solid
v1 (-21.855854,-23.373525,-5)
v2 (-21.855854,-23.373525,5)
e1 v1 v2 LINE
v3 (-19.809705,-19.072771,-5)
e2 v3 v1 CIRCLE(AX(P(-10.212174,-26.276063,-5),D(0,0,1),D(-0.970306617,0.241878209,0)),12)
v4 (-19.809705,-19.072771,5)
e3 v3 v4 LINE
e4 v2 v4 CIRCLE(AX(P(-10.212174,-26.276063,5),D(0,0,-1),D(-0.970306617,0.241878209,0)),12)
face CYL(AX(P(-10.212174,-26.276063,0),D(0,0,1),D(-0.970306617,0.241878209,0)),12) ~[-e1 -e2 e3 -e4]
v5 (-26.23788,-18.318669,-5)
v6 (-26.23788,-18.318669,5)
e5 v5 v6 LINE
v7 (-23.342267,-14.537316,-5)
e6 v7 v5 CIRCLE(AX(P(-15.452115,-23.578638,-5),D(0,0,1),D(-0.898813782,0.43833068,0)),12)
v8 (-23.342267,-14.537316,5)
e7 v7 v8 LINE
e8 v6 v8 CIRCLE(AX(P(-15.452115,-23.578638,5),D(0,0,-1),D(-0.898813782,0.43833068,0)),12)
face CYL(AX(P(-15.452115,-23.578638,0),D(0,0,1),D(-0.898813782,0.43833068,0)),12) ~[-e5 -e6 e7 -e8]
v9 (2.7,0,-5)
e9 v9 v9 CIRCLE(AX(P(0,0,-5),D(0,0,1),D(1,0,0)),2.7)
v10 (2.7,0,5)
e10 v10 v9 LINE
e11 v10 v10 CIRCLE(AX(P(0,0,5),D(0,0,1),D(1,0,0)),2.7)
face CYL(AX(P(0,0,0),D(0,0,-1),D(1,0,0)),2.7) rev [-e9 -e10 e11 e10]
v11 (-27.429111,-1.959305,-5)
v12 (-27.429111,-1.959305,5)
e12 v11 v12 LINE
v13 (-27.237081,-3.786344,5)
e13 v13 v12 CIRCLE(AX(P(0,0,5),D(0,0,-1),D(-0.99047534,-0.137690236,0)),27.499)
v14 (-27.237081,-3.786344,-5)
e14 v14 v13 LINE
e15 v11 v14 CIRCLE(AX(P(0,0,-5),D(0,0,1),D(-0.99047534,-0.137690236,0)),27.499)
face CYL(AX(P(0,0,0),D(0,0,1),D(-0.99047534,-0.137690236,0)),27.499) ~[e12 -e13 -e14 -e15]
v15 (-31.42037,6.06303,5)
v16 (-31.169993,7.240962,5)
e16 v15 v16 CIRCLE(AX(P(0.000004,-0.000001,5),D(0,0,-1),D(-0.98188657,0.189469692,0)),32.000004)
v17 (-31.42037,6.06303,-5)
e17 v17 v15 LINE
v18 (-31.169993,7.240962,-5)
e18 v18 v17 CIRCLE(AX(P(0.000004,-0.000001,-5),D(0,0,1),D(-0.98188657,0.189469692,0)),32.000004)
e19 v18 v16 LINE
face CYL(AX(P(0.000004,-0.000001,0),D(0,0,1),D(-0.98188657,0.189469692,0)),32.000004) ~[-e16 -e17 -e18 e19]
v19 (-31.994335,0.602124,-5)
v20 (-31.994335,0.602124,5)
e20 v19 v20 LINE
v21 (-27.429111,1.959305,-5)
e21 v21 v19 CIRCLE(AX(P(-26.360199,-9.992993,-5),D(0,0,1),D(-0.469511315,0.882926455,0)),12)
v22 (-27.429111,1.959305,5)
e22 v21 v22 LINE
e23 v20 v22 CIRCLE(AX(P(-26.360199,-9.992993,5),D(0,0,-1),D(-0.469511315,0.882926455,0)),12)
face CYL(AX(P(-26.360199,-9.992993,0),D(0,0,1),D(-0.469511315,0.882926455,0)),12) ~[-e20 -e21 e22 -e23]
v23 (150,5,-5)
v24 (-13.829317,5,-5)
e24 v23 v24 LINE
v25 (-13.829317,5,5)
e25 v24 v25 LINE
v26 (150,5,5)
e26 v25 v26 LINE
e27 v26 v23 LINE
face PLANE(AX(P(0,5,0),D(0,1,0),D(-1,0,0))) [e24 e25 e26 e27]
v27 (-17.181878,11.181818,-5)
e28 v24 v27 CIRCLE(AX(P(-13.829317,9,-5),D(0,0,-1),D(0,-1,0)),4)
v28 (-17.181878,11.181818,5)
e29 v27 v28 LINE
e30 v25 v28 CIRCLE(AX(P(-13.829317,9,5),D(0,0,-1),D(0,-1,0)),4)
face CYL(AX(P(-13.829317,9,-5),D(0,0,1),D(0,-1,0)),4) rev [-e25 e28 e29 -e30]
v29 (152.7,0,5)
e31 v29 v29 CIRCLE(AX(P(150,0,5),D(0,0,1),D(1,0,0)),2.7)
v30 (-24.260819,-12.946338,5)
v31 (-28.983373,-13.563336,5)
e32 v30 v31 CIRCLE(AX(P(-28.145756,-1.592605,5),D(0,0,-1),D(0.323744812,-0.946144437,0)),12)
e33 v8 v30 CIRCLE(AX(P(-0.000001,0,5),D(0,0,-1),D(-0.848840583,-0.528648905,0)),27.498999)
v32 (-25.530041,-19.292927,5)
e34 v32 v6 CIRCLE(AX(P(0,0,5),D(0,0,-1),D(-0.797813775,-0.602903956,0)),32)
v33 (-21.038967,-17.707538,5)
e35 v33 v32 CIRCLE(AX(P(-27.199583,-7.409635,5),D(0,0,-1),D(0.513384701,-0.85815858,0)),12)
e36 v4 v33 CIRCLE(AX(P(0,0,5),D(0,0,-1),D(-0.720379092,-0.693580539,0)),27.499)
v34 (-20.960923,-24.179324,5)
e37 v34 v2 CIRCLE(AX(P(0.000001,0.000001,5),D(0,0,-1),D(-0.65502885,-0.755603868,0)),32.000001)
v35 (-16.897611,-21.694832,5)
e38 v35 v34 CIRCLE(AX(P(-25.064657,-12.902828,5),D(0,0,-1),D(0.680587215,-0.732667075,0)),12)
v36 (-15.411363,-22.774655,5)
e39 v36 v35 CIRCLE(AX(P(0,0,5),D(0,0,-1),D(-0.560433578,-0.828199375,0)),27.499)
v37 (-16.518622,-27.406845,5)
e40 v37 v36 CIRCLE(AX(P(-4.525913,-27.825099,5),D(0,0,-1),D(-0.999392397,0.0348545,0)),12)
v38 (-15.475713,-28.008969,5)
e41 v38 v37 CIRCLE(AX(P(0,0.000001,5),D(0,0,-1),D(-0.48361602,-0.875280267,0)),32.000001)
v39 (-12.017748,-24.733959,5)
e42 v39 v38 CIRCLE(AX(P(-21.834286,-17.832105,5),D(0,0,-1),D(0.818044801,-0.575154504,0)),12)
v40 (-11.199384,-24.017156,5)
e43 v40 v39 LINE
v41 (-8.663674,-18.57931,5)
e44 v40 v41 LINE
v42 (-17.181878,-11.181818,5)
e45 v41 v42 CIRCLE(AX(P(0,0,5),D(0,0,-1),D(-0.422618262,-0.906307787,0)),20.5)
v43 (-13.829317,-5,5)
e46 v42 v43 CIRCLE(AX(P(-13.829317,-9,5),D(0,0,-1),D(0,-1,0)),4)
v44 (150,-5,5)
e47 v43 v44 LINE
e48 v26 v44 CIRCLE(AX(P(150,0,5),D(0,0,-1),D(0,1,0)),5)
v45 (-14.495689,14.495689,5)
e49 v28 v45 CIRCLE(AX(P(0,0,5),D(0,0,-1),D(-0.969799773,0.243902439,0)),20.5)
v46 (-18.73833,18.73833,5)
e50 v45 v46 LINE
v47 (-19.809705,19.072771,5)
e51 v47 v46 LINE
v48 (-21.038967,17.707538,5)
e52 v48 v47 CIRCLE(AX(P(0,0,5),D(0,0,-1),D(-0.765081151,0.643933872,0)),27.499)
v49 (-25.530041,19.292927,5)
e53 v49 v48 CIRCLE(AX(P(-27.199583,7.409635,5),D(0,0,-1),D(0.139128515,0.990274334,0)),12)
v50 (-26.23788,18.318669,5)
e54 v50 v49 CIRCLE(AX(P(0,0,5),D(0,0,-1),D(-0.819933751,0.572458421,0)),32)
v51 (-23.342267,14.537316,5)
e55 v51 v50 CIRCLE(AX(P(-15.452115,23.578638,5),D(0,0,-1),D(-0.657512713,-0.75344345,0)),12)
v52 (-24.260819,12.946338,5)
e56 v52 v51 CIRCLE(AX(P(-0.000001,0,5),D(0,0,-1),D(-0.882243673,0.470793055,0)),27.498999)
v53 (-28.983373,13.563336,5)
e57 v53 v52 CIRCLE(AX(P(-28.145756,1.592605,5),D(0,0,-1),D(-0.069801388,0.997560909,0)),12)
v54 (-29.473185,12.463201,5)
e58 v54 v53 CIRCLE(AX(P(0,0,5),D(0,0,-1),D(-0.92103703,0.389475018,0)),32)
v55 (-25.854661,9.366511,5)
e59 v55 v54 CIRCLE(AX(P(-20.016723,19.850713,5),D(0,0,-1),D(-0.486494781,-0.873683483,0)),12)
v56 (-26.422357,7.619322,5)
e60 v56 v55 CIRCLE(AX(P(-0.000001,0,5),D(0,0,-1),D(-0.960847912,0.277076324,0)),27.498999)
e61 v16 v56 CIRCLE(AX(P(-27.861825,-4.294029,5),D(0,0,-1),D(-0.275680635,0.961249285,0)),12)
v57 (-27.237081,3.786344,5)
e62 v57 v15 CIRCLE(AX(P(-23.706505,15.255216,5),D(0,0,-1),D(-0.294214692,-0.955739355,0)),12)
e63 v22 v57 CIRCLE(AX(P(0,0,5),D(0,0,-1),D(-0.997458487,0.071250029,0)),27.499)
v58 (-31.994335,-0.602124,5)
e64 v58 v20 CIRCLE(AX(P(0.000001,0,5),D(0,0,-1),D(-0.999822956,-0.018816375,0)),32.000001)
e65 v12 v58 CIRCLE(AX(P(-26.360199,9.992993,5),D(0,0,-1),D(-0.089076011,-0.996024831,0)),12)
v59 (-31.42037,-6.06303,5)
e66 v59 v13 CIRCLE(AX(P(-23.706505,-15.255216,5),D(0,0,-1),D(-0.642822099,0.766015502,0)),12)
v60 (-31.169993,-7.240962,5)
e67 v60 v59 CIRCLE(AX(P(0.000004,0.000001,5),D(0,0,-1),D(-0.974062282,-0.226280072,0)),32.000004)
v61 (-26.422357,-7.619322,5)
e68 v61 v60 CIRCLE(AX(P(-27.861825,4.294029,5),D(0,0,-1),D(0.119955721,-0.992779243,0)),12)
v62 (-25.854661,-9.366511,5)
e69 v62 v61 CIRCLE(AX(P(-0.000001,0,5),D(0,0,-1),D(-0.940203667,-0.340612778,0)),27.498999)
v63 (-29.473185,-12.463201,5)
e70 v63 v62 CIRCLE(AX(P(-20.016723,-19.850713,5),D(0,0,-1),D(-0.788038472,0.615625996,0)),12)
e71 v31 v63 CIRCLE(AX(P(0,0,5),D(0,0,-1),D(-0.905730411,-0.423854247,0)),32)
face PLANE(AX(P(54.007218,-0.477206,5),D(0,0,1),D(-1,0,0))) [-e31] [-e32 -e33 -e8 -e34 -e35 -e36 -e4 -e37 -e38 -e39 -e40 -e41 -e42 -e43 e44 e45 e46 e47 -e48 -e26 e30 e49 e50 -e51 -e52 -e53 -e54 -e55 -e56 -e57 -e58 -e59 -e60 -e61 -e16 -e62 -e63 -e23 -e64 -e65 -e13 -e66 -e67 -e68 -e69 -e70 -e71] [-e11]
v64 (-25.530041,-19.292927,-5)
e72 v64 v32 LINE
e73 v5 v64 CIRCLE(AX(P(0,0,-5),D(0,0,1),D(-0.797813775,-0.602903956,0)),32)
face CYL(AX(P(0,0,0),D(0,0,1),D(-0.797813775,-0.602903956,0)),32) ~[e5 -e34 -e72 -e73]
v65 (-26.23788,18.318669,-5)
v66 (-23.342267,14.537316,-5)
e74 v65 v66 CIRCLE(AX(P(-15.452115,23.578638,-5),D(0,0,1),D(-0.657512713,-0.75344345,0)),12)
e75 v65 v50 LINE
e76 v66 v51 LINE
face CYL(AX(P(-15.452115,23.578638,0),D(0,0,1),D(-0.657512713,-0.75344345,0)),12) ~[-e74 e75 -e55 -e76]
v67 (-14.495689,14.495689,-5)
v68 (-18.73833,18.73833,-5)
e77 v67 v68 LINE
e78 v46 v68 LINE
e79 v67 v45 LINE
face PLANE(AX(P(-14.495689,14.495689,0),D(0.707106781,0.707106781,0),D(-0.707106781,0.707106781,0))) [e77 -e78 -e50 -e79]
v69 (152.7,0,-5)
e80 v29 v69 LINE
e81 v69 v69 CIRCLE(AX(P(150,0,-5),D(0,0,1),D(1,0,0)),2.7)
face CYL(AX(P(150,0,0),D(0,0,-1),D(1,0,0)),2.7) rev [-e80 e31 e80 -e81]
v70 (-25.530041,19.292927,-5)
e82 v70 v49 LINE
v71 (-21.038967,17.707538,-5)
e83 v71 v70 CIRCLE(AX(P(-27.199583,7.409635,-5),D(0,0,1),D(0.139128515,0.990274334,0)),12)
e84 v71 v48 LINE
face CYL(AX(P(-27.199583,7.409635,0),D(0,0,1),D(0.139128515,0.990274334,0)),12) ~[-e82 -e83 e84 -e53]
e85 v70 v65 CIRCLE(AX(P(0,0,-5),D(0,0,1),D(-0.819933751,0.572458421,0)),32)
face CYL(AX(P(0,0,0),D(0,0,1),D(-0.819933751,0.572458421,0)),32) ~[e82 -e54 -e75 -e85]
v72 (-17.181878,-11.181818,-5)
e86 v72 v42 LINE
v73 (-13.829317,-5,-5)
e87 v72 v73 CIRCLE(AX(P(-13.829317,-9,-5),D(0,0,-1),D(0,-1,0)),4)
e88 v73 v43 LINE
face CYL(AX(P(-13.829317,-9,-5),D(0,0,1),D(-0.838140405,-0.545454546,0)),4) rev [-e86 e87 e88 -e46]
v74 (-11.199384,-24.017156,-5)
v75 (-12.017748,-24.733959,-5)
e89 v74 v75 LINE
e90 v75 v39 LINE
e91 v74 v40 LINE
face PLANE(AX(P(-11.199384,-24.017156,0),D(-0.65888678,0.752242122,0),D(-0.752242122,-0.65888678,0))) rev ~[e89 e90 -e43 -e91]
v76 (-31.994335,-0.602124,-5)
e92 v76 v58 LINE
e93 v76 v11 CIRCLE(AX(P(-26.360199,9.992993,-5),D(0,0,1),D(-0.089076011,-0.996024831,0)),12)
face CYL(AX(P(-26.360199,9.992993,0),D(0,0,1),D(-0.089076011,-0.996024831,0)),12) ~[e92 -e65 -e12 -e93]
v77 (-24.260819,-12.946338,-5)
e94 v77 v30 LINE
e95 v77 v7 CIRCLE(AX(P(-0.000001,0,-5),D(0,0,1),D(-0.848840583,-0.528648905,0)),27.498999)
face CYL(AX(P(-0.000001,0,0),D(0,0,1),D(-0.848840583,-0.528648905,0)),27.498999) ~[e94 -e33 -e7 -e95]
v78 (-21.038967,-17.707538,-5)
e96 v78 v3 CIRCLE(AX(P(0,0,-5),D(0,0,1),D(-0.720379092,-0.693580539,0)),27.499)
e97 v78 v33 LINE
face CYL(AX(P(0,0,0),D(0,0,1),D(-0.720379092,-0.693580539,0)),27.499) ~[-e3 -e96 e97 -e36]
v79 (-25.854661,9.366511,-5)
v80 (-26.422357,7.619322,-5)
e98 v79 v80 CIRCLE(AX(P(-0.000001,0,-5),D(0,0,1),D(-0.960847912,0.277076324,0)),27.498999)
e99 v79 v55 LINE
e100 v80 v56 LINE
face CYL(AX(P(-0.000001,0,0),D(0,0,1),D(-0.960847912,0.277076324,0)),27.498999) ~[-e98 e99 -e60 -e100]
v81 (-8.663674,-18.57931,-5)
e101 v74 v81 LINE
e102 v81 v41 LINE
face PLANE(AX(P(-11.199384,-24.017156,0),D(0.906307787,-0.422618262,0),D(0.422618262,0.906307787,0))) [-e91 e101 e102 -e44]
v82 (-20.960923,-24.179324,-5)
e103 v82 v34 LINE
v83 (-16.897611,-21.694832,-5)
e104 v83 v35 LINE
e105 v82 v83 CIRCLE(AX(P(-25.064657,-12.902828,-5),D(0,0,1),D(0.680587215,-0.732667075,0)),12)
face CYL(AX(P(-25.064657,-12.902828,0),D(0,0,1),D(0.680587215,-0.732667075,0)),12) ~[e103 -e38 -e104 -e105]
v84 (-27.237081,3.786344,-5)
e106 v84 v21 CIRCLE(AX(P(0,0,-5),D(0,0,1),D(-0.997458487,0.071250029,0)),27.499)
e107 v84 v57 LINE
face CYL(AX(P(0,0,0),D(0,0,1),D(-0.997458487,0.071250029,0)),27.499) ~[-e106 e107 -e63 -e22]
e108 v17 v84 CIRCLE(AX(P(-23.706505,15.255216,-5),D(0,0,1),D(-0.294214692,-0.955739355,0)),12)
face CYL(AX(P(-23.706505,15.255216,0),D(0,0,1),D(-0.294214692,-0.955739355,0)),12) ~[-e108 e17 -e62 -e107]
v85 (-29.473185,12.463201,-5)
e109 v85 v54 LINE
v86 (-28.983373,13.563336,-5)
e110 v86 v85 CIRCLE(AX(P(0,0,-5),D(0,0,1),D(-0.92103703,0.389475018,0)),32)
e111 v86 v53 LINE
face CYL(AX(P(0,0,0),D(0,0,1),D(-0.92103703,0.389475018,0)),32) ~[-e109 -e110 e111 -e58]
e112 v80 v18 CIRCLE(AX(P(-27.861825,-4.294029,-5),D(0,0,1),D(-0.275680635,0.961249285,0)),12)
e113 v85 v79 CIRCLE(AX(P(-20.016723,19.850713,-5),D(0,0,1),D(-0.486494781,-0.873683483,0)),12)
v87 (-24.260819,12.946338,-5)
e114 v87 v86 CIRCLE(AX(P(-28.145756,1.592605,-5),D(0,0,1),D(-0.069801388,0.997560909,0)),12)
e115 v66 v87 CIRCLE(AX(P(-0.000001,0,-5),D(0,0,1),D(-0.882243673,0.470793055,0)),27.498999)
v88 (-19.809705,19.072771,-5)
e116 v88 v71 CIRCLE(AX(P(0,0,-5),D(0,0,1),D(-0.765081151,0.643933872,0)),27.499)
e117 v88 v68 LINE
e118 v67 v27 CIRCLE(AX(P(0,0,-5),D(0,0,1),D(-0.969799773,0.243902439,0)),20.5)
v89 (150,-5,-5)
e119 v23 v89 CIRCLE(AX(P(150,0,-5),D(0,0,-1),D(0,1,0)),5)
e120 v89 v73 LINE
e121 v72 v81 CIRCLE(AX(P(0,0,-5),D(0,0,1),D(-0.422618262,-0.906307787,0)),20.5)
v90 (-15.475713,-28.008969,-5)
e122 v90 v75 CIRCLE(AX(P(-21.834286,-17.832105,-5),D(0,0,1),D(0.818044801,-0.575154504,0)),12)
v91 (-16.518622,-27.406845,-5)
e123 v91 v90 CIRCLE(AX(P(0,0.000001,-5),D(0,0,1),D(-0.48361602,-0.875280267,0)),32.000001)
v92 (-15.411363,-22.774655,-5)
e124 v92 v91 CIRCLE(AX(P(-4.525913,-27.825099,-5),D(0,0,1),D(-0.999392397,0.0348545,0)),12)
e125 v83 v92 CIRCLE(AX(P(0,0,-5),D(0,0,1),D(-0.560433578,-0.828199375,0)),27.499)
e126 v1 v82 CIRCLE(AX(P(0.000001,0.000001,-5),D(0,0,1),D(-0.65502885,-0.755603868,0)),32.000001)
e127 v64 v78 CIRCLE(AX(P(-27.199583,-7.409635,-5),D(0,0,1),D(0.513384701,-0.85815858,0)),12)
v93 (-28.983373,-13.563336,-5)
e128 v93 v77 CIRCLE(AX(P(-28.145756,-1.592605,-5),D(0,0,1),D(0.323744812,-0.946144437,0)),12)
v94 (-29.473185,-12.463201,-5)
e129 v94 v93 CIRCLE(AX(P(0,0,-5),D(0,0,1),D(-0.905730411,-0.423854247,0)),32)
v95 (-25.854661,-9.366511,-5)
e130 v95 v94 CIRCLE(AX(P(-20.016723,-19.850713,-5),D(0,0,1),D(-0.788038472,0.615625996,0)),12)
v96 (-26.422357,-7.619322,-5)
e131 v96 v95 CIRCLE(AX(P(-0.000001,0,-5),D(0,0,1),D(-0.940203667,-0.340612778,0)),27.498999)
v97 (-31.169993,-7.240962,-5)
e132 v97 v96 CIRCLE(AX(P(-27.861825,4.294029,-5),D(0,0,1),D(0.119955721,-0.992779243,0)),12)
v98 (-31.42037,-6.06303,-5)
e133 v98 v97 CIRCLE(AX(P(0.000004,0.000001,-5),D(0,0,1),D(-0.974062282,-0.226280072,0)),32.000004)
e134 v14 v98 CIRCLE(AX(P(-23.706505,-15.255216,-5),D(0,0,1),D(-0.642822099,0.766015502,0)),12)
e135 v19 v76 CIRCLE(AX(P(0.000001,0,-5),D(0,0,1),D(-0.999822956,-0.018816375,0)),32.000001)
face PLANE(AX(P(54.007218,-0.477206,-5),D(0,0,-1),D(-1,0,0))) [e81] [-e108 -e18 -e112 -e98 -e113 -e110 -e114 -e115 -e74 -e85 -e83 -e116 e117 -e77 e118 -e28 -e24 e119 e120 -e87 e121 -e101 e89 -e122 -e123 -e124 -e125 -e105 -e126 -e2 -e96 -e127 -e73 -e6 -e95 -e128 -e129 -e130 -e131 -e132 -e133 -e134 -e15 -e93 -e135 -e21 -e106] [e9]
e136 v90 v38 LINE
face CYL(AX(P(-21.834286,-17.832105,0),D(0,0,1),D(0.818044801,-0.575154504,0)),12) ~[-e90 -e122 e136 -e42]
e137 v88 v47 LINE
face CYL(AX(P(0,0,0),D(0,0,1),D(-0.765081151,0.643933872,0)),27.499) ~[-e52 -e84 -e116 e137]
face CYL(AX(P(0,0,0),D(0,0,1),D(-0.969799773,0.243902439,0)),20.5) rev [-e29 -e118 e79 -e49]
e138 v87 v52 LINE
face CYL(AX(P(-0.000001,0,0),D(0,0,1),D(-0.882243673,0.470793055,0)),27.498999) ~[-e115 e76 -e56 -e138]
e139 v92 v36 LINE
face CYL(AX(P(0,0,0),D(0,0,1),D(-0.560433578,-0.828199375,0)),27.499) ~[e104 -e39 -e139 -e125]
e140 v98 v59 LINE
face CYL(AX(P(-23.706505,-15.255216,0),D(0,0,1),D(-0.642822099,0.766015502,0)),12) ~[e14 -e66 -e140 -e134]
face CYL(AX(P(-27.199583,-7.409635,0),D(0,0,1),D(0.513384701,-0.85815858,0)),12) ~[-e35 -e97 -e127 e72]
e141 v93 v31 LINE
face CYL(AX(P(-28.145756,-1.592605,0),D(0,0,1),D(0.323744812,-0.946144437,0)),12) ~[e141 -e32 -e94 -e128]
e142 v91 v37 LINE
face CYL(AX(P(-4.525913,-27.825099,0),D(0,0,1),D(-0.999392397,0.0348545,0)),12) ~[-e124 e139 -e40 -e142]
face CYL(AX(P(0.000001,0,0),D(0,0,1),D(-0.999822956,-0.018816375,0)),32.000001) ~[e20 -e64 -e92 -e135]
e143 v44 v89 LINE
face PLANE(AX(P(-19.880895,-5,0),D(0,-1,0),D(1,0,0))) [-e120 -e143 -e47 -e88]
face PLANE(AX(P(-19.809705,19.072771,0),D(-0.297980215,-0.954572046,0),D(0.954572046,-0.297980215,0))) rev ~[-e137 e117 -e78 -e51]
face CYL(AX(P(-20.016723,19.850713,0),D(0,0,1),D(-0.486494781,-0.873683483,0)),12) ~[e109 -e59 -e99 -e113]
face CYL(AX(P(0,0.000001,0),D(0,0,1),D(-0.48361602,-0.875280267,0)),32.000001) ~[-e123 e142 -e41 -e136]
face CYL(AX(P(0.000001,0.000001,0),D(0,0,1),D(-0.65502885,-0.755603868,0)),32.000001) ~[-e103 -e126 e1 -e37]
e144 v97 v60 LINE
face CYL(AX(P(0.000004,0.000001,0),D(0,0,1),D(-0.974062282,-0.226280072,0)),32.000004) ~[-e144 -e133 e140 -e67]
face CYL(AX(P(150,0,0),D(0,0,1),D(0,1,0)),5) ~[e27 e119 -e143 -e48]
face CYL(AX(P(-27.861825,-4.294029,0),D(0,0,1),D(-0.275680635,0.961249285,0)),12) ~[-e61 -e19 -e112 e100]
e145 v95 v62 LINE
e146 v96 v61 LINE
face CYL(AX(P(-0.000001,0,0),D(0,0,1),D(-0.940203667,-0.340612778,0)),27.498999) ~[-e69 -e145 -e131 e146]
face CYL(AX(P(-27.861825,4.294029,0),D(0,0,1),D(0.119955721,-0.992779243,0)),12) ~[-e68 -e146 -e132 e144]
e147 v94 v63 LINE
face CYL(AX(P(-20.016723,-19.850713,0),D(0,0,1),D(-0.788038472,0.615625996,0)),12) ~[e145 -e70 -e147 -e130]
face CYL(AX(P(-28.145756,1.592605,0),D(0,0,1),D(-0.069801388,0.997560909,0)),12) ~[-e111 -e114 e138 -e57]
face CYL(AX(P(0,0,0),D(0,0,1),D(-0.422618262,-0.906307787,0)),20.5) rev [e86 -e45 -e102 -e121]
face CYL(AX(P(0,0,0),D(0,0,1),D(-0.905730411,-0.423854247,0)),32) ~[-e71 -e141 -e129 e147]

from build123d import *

# Parameters (mm, degrees)
SKETCH1_R                       = 2.7
BOSS_EXTRUDE1_DEPTH             = 5
BOSS_EXTRUDE2_REACH             = 157.161
BOSS_EXTRUDE2_DIRECTION_2_REACH = 157.161
FILLET1_R                       = 4
BOSS_EXTRUDE3_REACH             = 158.929
BOSS_EXTRUDE3_DIRECTION_2_REACH = 158.929


with BuildPart() as part:
    # Sketch1 → Boss-Extrude1 (new, symmetric)
    with BuildSketch(Plane.XY):
        with BuildLine():
            Line((0, 5), (150, 5))
            ThreePointArc((150, 5), (155, 0), (150, -5))
            Line((150, -5), (0, -5))
            ThreePointArc((0, -5), (-5, 0), (0, 5))
        make_face()
        Circle(SKETCH1_R, mode=Mode.SUBTRACT)
        with Locations((150, 0)):
            Circle(SKETCH1_R, mode=Mode.SUBTRACT)
    extrude(amount=BOSS_EXTRUDE1_DEPTH, both=True)

    # Boss-Extrude2: up to this face of the body (flat: up to its plane)
    boss_extrude2_end = Plane(part.part.faces().sort_by_distance((75, 0, 5))[0])
    # Sketch2 → Boss-Extrude2 (add, up to the picked face)
    with BuildSketch(Plane.XY, mode=Mode.PRIVATE) as boss_extrude2_sk1:
        with BuildLine():
            Line((0, 5), (-19.880895352, 5))
            ThreePointArc((-19.880895352, 5), (-17.831977334, 10.112891988), (-14.495689014, 14.495689014))
            Line((-14.495689014, 14.495689014), (-18.738329701, 18.738329701))
            ThreePointArc((-18.738329701, 18.738329701), (-26.097405455, -4.601676708), (-11.199383936, -24.017156356))
            Line((-11.199383936, -24.017156356), (-8.663674366, -18.579309634))
            ThreePointArc((-8.663674366, -18.579309634), (-15.804984265, -13.055744803), (-19.880895352, -5))
            Line((-19.880895352, -5), (0, -5))
            ThreePointArc((0, -5), (-5, 0), (0, 5))
        make_face()
    boss_extrude2_tool1 = split(extrude(boss_extrude2_sk1.sketch, amount=BOSS_EXTRUDE2_REACH, mode=Mode.PRIVATE), bisect_by=boss_extrude2_end, keep=Keep.BOTH, mode=Mode.PRIVATE)
    add(boss_extrude2_tool1.solids().sort_by(Axis((-16.92377, -2.181901, 0), (0, 0, 1)))[0])

    # Boss-Extrude2 direction 2: up to this face of the body (flat: up to its plane)
    boss_extrude2_direction_2_end = Plane(part.part.faces().sort_by_distance((75, 0, -5))[0])
    # Sketch2 → Boss-Extrude2 direction 2 (add, up to the picked face)
    with BuildSketch(Plane.XY, mode=Mode.PRIVATE) as boss_extrude2_direction_2_sk1:
        with BuildLine():
            Line((0, 5), (-19.880895352, 5))
            ThreePointArc((-19.880895352, 5), (-17.831977334, 10.112891988), (-14.495689014, 14.495689014))
            Line((-14.495689014, 14.495689014), (-18.738329701, 18.738329701))
            ThreePointArc((-18.738329701, 18.738329701), (-26.097405455, -4.601676708), (-11.199383936, -24.017156356))
            Line((-11.199383936, -24.017156356), (-8.663674366, -18.579309634))
            ThreePointArc((-8.663674366, -18.579309634), (-15.804984265, -13.055744803), (-19.880895352, -5))
            Line((-19.880895352, -5), (0, -5))
            ThreePointArc((0, -5), (-5, 0), (0, 5))
        make_face()
    boss_extrude2_direction_2_tool1 = split(extrude(boss_extrude2_direction_2_sk1.sketch, amount=-BOSS_EXTRUDE2_DIRECTION_2_REACH, mode=Mode.PRIVATE), bisect_by=boss_extrude2_direction_2_end, keep=Keep.BOTH, mode=Mode.PRIVATE)
    add(boss_extrude2_direction_2_tool1.solids().sort_by(Axis((-16.92377, -2.181901, 0), (0, 0, -1)))[0])

    # Fillet1
    fillet1_edges = [part.edges().sort_by_distance(p)[0] for p in [
        (-19.880895352, 5, 0),
        (-19.880895352, -5, 0),
    ]]
    fillet(fillet1_edges, radius=FILLET1_R)

    # Boss-Extrude3: up to this face of the body (flat: up to its plane)
    boss_extrude3_end = Plane(part.part.faces().sort_by_distance((54.007217668, -0.477206408, 5))[0])
    # Sketch3 → Boss-Extrude3 (add, up to the picked face)
    with BuildSketch(Plane.XY, mode=Mode.PRIVATE) as boss_extrude3_sk1:
        with BuildLine():
            Line((-19.809704653, 19.072771234), (-18.738329701, 18.738329701))
            ThreePointArc((-18.738329701, 18.738329701), (-26.097405455, -4.601676708), (-11.199383936, -24.017156356))
            Line((-11.199383936, -24.017156356), (-12.017747974, -24.733959138))
            ThreePointArc((-12.017747974, -24.733959138), (-13.582620769, -26.544741188), (-15.475712613, -28.008968548))
            ThreePointArc((-15.475712613, -28.008968548), (-16, -27.712812921), (-16.518621989, -27.406844539))
            ThreePointArc((-16.518621989, -27.406844539), (-16.197109821, -25.035265229), (-15.411362962, -22.774654611))
            ThreePointArc((-15.411362962, -22.774654611), (-16.163506653, -22.247158328), (-16.897610612, -21.694832486))
            ThreePointArc((-16.897610612, -21.694832486), (-18.804769939, -23.140689255), (-20.960923171, -24.179323808))
            ThreePointArc((-20.960923171, -24.179323808), (-21.412179403, -23.780634415), (-21.855853854, -23.373524601))
            ThreePointArc((-21.855853854, -23.373524601), (-21.048288434, -21.120616129), (-19.809704653, -19.072771234))
            ThreePointArc((-19.809704653, -19.072771234), (-20.435739556, -18.400422544), (-21.038966583, -17.707537551))
            ThreePointArc((-21.038966583, -17.707537551), (-23.205060428, -18.725278161), (-25.530040805, -19.292926592))
            ThreePointArc((-25.530040805, -19.292926592), (-25.88854382, -18.809128073), (-26.23788003, -18.31866948))
            ThreePointArc((-26.23788003, -18.31866948), (-24.979555842, -16.282894755), (-23.342267194, -14.537316233))
            ThreePointArc((-23.342267194, -14.537316233), (-23.814832579, -13.7495), (-24.260818757, -12.946338255))
            ThreePointArc((-24.260818757, -12.946338255), (-26.591178426, -13.491482557), (-28.983373149, -13.563335907))
            ThreePointArc((-28.983373149, -13.563335907), (-29.233454645, -13.015572578), (-29.473184945, -12.4632006))
            ThreePointArc((-29.473184945, -12.4632006), (-27.819096794, -10.733532747), (-25.854660649, -9.366510754))
            ThreePointArc((-25.854660649, -9.366510754), (-26.153103142, -8.497658328), (-26.422356736, -7.619321854))
            ThreePointArc((-26.422356736, -7.619321854), (-28.815134328, -7.668044426), (-31.169993008, -7.240962359))
            ThreePointArc((-31.169993008, -7.240962359), (-31.300723223, -6.653174106), (-31.42037025, -6.063030049))
            ThreePointArc((-31.42037025, -6.063030049), (-29.442809726, -4.715063852), (-27.23708137, -3.786343811))
            ThreePointArc((-27.23708137, -3.786343811), (-27.348357601, -2.874428211), (-27.429110937, -1.959304527))
            ThreePointArc((-27.429110937, -1.959304527), (-29.77973059, -1.509475958), (-31.994334603, -0.602124009))
            ThreePointArc((-31.994334603, -0.602124009), (-32, 0), (-31.994334603, 0.602124009))
            ThreePointArc((-31.994334603, 0.602124009), (-29.77973059, 1.509475958), (-27.429110937, 1.959304527))
            ThreePointArc((-27.429110937, 1.959304527), (-27.348357601, 2.874428211), (-27.23708137, 3.786343811))
            ThreePointArc((-27.23708137, 3.786343811), (-29.442809726, 4.715063852), (-31.42037025, 6.063030049))
            ThreePointArc((-31.42037025, 6.063030049), (-31.300723223, 6.653174106), (-31.169993008, 7.240962359))
            ThreePointArc((-31.169993008, 7.240962359), (-28.815134328, 7.668044426), (-26.422356736, 7.619321854))
            ThreePointArc((-26.422356736, 7.619321854), (-26.153103142, 8.497658328), (-25.854660649, 9.366510754))
            ThreePointArc((-25.854660649, 9.366510754), (-27.819096794, 10.733532747), (-29.473184945, 12.4632006))
            ThreePointArc((-29.473184945, 12.4632006), (-29.233454645, 13.015572578), (-28.983373149, 13.563335907))
            ThreePointArc((-28.983373149, 13.563335907), (-26.591178426, 13.491482557), (-24.260818757, 12.946338255))
            ThreePointArc((-24.260818757, 12.946338255), (-23.814832579, 13.7495), (-23.342267194, 14.537316233))
            ThreePointArc((-23.342267194, 14.537316233), (-24.979555842, 16.282894755), (-26.23788003, 18.31866948))
            ThreePointArc((-26.23788003, 18.31866948), (-25.88854382, 18.809128073), (-25.530040805, 19.292926592))
            ThreePointArc((-25.530040805, 19.292926592), (-23.205060428, 18.725278161), (-21.038966583, 17.707537551))
            ThreePointArc((-21.038966583, 17.707537551), (-20.435739556, 18.400422544), (-19.809704653, 19.072771234))
        make_face()
    boss_extrude3_tool1 = split(extrude(boss_extrude3_sk1.sketch, amount=BOSS_EXTRUDE3_REACH, mode=Mode.PRIVATE), bisect_by=boss_extrude3_end, keep=Keep.BOTH, mode=Mode.PRIVATE)
    add(boss_extrude3_tool1.solids().sort_by(Axis((-23.367328, 13.491133, 0), (0, 0, 1)))[0])

    # Boss-Extrude3 direction 2: up to this face of the body (flat: up to its plane)
    boss_extrude3_direction_2_end = Plane(part.part.faces().sort_by_distance((54.007217668, -0.477206408, -5))[0])
    # Sketch3 → Boss-Extrude3 direction 2 (add, up to the picked face)
    with BuildSketch(Plane.XY, mode=Mode.PRIVATE) as boss_extrude3_direction_2_sk1:
        with BuildLine():
            Line((-19.809704653, 19.072771234), (-18.738329701, 18.738329701))
            ThreePointArc((-18.738329701, 18.738329701), (-26.097405455, -4.601676708), (-11.199383936, -24.017156356))
            Line((-11.199383936, -24.017156356), (-12.017747974, -24.733959138))
            ThreePointArc((-12.017747974, -24.733959138), (-13.582620769, -26.544741188), (-15.475712613, -28.008968548))
            ThreePointArc((-15.475712613, -28.008968548), (-16, -27.712812921), (-16.518621989, -27.406844539))
            ThreePointArc((-16.518621989, -27.406844539), (-16.197109821, -25.035265229), (-15.411362962, -22.774654611))
            ThreePointArc((-15.411362962, -22.774654611), (-16.163506653, -22.247158328), (-16.897610612, -21.694832486))
            ThreePointArc((-16.897610612, -21.694832486), (-18.804769939, -23.140689255), (-20.960923171, -24.179323808))
            ThreePointArc((-20.960923171, -24.179323808), (-21.412179403, -23.780634415), (-21.855853854, -23.373524601))
            ThreePointArc((-21.855853854, -23.373524601), (-21.048288434, -21.120616129), (-19.809704653, -19.072771234))
            ThreePointArc((-19.809704653, -19.072771234), (-20.435739556, -18.400422544), (-21.038966583, -17.707537551))
            ThreePointArc((-21.038966583, -17.707537551), (-23.205060428, -18.725278161), (-25.530040805, -19.292926592))
            ThreePointArc((-25.530040805, -19.292926592), (-25.88854382, -18.809128073), (-26.23788003, -18.31866948))
            ThreePointArc((-26.23788003, -18.31866948), (-24.979555842, -16.282894755), (-23.342267194, -14.537316233))
            ThreePointArc((-23.342267194, -14.537316233), (-23.814832579, -13.7495), (-24.260818757, -12.946338255))
            ThreePointArc((-24.260818757, -12.946338255), (-26.591178426, -13.491482557), (-28.983373149, -13.563335907))
            ThreePointArc((-28.983373149, -13.563335907), (-29.233454645, -13.015572578), (-29.473184945, -12.4632006))
            ThreePointArc((-29.473184945, -12.4632006), (-27.819096794, -10.733532747), (-25.854660649, -9.366510754))
            ThreePointArc((-25.854660649, -9.366510754), (-26.153103142, -8.497658328), (-26.422356736, -7.619321854))
            ThreePointArc((-26.422356736, -7.619321854), (-28.815134328, -7.668044426), (-31.169993008, -7.240962359))
            ThreePointArc((-31.169993008, -7.240962359), (-31.300723223, -6.653174106), (-31.42037025, -6.063030049))
            ThreePointArc((-31.42037025, -6.063030049), (-29.442809726, -4.715063852), (-27.23708137, -3.786343811))
            ThreePointArc((-27.23708137, -3.786343811), (-27.348357601, -2.874428211), (-27.429110937, -1.959304527))
            ThreePointArc((-27.429110937, -1.959304527), (-29.77973059, -1.509475958), (-31.994334603, -0.602124009))
            ThreePointArc((-31.994334603, -0.602124009), (-32, 0), (-31.994334603, 0.602124009))
            ThreePointArc((-31.994334603, 0.602124009), (-29.77973059, 1.509475958), (-27.429110937, 1.959304527))
            ThreePointArc((-27.429110937, 1.959304527), (-27.348357601, 2.874428211), (-27.23708137, 3.786343811))
            ThreePointArc((-27.23708137, 3.786343811), (-29.442809726, 4.715063852), (-31.42037025, 6.063030049))
            ThreePointArc((-31.42037025, 6.063030049), (-31.300723223, 6.653174106), (-31.169993008, 7.240962359))
            ThreePointArc((-31.169993008, 7.240962359), (-28.815134328, 7.668044426), (-26.422356736, 7.619321854))
            ThreePointArc((-26.422356736, 7.619321854), (-26.153103142, 8.497658328), (-25.854660649, 9.366510754))
            ThreePointArc((-25.854660649, 9.366510754), (-27.819096794, 10.733532747), (-29.473184945, 12.4632006))
            ThreePointArc((-29.473184945, 12.4632006), (-29.233454645, 13.015572578), (-28.983373149, 13.563335907))
            ThreePointArc((-28.983373149, 13.563335907), (-26.591178426, 13.491482557), (-24.260818757, 12.946338255))
            ThreePointArc((-24.260818757, 12.946338255), (-23.814832579, 13.7495), (-23.342267194, 14.537316233))
            ThreePointArc((-23.342267194, 14.537316233), (-24.979555842, 16.282894755), (-26.23788003, 18.31866948))
            ThreePointArc((-26.23788003, 18.31866948), (-25.88854382, 18.809128073), (-25.530040805, 19.292926592))
            ThreePointArc((-25.530040805, 19.292926592), (-23.205060428, 18.725278161), (-21.038966583, 17.707537551))
            ThreePointArc((-21.038966583, 17.707537551), (-20.435739556, 18.400422544), (-19.809704653, 19.072771234))
        make_face()
    boss_extrude3_direction_2_tool1 = split(extrude(boss_extrude3_direction_2_sk1.sketch, amount=-BOSS_EXTRUDE3_DIRECTION_2_REACH, mode=Mode.PRIVATE), bisect_by=boss_extrude3_direction_2_end, keep=Keep.BOTH, mode=Mode.PRIVATE)
    add(boss_extrude3_direction_2_tool1.solids().sort_by(Axis((-23.367328, 13.491133, 0), (0, 0, -1)))[0])


solid = part.part
